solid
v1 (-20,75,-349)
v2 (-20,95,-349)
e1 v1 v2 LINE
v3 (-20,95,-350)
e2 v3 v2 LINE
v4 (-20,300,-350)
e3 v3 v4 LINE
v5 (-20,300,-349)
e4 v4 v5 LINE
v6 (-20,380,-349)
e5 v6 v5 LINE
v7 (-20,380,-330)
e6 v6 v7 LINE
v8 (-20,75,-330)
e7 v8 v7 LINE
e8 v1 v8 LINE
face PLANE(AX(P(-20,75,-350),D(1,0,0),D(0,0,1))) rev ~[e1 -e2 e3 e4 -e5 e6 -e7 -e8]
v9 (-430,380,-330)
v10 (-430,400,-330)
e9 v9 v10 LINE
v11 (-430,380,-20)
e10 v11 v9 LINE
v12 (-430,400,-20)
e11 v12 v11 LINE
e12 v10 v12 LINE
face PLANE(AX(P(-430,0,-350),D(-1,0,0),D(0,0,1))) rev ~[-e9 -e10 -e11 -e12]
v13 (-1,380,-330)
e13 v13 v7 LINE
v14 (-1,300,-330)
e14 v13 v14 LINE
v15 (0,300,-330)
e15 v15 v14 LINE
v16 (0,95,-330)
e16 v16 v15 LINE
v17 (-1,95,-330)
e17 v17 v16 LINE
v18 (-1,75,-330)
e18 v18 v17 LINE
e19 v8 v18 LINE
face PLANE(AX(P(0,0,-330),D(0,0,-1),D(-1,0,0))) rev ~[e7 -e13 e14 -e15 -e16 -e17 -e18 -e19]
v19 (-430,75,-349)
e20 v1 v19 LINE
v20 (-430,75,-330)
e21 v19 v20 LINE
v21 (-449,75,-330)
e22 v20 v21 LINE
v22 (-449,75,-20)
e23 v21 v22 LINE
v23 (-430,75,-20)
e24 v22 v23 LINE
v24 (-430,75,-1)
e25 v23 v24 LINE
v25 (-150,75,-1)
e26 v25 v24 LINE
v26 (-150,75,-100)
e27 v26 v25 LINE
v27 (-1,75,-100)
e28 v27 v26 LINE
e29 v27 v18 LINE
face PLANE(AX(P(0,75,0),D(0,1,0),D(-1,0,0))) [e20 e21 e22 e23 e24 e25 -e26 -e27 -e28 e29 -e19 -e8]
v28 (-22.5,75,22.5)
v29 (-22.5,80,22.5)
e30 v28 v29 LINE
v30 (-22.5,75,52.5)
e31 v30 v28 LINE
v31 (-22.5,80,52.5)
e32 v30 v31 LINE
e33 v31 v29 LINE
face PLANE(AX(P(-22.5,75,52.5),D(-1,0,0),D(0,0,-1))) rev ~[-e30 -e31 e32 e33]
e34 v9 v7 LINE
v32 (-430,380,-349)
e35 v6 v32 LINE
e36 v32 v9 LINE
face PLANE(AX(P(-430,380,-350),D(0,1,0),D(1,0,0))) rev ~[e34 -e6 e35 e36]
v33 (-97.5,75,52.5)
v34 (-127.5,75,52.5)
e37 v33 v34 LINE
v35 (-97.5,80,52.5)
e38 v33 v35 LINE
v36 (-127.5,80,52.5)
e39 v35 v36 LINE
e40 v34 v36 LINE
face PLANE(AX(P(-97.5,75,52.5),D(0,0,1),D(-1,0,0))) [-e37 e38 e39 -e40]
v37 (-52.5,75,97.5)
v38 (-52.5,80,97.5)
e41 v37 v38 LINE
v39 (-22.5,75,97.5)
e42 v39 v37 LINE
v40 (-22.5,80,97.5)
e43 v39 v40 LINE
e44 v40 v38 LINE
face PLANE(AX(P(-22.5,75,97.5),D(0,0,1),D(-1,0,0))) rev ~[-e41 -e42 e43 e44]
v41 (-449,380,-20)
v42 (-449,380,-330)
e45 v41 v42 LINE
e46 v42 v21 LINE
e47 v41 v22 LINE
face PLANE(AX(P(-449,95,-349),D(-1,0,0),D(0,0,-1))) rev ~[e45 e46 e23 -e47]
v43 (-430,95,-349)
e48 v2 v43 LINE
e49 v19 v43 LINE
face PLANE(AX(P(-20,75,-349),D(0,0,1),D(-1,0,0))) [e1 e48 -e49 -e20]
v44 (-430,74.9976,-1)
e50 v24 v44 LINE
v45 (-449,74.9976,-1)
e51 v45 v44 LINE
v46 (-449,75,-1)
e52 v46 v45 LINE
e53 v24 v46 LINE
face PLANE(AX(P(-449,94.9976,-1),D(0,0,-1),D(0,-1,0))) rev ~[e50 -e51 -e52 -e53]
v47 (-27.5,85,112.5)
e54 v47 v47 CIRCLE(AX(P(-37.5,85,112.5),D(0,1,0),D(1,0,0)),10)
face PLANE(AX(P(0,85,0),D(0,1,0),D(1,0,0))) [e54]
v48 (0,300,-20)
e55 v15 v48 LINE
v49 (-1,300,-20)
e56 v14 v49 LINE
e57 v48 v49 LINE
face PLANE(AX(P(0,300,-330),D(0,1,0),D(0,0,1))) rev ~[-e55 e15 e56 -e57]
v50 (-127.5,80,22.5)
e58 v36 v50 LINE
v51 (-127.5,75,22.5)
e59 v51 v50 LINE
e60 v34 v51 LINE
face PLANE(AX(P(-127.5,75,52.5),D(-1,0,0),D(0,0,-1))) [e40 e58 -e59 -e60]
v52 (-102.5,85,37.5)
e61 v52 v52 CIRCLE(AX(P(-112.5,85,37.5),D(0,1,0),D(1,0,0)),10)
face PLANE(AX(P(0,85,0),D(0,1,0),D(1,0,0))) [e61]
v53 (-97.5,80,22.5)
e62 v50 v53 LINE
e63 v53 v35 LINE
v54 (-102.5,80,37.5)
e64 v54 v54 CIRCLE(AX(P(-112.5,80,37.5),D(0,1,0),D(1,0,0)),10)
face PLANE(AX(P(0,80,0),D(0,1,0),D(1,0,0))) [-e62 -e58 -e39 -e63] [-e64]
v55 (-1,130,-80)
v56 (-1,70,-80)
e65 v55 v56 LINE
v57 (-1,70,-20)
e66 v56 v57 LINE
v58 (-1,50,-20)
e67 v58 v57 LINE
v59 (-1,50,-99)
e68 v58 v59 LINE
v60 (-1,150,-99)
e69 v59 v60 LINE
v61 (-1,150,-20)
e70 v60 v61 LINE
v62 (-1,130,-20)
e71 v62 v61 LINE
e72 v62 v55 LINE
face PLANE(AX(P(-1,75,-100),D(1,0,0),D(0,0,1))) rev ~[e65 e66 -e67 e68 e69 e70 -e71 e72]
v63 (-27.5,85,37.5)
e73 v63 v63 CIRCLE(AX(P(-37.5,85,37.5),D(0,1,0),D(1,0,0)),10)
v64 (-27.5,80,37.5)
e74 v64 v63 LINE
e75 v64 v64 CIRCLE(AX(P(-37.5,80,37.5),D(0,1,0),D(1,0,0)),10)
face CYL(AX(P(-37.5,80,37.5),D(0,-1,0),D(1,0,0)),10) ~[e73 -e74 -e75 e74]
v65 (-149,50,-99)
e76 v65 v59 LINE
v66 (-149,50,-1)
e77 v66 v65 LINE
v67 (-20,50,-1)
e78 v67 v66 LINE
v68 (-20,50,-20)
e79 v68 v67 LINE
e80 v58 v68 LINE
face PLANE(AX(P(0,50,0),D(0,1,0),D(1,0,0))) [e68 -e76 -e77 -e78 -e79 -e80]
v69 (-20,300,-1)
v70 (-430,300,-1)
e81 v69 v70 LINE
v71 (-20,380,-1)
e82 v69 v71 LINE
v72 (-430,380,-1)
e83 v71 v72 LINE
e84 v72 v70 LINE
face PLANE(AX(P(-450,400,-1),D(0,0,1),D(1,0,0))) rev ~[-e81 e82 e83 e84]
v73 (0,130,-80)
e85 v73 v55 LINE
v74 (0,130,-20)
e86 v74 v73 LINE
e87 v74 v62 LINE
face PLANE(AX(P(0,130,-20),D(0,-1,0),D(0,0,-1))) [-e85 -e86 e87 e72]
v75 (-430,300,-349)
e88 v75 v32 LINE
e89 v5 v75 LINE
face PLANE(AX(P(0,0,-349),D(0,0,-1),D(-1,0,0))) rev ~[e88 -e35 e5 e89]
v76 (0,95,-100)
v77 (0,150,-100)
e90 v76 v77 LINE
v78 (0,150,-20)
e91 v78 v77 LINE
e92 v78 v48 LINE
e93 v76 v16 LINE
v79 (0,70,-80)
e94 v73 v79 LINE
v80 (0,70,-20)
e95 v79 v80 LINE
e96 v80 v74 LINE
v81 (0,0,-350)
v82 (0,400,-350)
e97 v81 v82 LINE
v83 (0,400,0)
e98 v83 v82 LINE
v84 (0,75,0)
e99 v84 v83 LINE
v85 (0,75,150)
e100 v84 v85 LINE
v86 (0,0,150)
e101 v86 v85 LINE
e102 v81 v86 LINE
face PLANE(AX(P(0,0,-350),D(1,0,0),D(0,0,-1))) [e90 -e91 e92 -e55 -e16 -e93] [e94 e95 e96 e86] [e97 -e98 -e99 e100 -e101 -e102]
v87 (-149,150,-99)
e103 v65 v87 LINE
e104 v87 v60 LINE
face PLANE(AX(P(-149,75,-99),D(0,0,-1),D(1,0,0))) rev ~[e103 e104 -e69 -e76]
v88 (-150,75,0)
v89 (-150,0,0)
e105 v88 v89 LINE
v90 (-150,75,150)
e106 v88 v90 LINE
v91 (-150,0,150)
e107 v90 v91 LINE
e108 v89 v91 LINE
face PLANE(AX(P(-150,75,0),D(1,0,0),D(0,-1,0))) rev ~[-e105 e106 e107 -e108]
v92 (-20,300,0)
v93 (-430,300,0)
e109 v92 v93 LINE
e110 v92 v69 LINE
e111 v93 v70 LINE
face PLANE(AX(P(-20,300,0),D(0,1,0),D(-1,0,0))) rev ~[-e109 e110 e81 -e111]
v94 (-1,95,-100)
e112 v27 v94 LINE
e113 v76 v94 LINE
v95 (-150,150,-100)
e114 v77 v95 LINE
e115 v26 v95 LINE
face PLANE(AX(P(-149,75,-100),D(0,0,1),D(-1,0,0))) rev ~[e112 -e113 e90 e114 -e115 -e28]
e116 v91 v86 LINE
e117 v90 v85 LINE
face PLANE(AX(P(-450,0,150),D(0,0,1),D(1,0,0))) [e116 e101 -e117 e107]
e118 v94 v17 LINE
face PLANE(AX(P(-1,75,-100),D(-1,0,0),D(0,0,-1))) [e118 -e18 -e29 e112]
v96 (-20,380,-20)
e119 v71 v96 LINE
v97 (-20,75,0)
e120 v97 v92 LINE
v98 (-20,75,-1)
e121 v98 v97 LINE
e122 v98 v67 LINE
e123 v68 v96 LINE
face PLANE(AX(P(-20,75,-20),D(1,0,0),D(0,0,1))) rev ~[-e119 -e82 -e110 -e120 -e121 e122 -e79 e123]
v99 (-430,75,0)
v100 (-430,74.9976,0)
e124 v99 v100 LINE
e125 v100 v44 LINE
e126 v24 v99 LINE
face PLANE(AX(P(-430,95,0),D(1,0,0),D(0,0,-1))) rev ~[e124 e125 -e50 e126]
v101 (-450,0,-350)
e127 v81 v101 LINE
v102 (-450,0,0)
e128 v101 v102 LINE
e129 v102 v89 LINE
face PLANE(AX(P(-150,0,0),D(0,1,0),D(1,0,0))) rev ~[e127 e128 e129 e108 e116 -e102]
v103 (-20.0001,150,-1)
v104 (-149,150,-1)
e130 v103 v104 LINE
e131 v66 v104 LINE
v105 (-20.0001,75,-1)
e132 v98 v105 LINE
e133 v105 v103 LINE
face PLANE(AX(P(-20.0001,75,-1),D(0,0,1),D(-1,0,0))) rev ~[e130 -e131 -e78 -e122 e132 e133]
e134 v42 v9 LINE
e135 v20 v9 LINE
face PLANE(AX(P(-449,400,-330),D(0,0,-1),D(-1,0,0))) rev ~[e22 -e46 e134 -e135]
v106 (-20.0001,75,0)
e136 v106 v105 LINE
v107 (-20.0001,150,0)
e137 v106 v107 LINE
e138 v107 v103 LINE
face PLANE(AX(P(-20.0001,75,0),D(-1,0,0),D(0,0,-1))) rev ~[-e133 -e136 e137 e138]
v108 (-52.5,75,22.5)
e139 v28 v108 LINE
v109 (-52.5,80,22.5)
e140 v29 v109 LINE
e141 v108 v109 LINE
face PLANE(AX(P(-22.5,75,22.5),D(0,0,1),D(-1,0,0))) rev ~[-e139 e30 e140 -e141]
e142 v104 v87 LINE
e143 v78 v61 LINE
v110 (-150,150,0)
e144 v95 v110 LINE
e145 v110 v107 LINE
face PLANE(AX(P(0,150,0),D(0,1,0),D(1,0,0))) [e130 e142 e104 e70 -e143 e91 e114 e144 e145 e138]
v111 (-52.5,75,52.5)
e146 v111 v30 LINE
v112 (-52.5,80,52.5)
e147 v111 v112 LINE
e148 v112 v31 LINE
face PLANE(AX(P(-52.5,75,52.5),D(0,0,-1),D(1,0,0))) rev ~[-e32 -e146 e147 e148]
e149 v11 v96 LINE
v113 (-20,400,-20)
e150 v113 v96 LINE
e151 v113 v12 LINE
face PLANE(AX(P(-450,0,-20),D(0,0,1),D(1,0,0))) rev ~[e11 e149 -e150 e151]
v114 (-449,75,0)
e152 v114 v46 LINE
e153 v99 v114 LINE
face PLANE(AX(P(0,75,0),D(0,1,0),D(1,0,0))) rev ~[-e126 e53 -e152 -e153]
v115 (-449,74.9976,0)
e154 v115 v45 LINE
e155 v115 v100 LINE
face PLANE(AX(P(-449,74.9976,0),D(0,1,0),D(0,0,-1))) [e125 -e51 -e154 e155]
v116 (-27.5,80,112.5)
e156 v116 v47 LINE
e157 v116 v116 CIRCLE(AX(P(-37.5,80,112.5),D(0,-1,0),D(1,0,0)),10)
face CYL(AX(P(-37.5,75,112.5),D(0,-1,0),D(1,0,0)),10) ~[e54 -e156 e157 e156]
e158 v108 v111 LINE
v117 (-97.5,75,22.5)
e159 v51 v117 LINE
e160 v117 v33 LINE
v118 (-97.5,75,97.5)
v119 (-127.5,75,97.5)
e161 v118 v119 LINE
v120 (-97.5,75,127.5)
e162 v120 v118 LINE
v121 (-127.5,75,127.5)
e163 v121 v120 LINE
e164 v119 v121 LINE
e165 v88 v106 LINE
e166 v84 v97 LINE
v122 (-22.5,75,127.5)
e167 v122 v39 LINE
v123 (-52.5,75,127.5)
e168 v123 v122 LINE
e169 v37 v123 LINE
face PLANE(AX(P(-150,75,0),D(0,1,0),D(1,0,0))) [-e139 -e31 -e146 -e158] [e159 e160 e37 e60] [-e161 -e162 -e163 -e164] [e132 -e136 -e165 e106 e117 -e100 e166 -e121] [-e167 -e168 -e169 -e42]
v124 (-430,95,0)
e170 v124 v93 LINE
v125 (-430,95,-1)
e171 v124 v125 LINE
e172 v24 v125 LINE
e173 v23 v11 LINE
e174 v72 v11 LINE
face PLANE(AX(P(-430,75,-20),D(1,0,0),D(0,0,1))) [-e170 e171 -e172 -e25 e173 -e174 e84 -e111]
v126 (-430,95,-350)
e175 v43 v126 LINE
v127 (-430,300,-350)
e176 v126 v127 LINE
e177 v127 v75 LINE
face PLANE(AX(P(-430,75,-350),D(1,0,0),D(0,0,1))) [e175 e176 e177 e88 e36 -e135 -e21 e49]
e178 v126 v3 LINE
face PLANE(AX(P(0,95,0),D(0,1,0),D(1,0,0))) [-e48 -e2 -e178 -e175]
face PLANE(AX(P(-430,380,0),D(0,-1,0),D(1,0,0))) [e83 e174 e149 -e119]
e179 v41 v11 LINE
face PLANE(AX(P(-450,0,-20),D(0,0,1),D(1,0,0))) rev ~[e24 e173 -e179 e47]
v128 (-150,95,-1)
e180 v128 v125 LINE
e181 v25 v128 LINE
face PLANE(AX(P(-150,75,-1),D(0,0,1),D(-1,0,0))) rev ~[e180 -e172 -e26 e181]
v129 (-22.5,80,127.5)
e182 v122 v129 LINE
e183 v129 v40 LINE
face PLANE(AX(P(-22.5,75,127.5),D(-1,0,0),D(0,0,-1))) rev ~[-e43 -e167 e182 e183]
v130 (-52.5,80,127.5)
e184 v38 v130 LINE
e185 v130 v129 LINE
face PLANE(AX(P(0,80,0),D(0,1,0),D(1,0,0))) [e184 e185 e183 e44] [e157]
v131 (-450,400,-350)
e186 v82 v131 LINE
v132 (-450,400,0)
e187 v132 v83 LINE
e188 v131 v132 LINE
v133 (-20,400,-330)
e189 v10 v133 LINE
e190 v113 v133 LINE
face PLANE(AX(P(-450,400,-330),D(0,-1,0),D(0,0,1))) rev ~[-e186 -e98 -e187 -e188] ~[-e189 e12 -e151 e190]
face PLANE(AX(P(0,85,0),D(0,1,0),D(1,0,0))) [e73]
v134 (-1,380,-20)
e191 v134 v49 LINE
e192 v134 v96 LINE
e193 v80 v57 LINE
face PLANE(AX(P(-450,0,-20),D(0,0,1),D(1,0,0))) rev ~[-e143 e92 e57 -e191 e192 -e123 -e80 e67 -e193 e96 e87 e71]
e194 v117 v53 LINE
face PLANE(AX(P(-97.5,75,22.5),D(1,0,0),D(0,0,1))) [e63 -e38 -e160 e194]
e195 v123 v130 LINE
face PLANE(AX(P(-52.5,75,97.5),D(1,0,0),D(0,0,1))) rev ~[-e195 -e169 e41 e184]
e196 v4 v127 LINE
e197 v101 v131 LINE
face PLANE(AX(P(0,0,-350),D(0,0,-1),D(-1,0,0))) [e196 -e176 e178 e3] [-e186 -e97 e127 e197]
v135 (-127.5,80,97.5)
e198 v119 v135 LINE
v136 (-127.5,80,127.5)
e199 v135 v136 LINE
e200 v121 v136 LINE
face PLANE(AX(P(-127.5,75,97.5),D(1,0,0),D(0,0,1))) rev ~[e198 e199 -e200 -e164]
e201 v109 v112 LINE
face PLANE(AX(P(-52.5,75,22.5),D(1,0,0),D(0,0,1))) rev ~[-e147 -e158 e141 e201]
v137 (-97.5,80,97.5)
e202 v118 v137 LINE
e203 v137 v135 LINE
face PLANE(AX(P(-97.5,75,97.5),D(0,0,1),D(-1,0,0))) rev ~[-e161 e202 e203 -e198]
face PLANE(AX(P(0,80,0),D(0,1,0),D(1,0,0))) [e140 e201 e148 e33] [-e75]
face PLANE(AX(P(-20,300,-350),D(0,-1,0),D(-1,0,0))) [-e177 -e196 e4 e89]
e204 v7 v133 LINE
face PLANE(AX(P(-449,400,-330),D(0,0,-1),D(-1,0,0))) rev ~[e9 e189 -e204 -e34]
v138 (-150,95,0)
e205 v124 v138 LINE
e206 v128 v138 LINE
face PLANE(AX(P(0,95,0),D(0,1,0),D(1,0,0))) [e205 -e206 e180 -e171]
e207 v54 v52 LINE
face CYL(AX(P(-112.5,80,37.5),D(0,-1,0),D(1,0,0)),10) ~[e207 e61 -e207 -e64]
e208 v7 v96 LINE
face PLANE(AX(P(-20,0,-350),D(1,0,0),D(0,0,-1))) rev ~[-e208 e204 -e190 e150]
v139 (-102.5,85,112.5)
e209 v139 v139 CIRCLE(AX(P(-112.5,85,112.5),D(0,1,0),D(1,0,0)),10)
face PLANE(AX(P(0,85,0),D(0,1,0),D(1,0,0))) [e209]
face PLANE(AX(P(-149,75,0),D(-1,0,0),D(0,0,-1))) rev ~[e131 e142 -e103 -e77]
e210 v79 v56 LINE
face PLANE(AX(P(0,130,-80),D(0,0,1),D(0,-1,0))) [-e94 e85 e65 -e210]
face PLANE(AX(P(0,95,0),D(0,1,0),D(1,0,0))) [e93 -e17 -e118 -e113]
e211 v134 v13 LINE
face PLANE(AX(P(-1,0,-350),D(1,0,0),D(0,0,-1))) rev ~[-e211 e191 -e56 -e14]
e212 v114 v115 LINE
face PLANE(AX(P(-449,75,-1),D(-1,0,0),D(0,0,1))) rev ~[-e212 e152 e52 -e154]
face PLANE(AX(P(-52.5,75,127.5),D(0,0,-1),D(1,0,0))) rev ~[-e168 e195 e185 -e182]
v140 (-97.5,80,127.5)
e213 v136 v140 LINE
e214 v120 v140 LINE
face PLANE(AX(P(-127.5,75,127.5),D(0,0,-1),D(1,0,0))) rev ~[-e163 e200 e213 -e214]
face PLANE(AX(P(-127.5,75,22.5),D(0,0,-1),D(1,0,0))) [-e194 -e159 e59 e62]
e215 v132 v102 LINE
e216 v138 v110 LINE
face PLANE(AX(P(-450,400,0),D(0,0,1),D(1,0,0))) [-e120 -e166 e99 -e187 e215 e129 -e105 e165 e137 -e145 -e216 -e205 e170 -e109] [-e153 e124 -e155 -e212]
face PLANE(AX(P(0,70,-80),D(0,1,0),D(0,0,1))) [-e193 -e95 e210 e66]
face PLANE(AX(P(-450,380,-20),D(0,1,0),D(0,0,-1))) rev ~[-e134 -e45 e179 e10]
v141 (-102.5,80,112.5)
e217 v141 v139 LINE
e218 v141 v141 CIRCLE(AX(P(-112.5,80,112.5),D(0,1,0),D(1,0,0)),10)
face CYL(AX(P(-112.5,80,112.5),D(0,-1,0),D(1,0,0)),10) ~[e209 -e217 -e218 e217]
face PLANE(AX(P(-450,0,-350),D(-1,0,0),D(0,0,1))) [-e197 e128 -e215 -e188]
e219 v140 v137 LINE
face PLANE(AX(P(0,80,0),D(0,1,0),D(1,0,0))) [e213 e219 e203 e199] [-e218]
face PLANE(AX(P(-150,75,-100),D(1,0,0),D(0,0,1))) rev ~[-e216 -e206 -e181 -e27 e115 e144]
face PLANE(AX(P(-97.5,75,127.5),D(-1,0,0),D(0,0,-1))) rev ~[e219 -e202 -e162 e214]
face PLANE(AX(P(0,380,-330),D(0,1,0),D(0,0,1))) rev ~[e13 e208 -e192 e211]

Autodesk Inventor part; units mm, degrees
ref_plane "YZ Plane" through (0, 0, 0) normal (1, 0, 0) x (0, 1, 0)
ref_plane "XZ Plane" through (0, 0, 0) normal (0, 1, 0) x (-1, 0, 0)
ref_plane "XY Plane" through (0, 0, 0) normal (0, 0, 1) x (1, 0, 0)
sketch "Sketch1" plane through (0, 0, 0) normal (0, 1, 0) x (-1, 0, 0)
  line L0 (0, 0) -> (0, -350)
  line L1 (0, -350) -> (450, -350)
  line L2 (450, -350) -> (450, 0)
  line L3 (450, 0) -> (0, 0)
  dimension "d0" = 350
  dimension "d1" = 450
extrude "Extrusion1" add sketch "Sketch1" along normal blind 75
sketch "Sketch2" plane through (0, 75, 0) normal (0, 1, 0) x (1, 0, 0)
  line L0 (-20, 350) -> (-20, 330)
  line L1 (-20, 330) -> (0, 330)
  line L2 (0, 350) -> (-450, 350) projected
  line L3 (0, 330) -> (0, 350)
  line L4 (0, 350) -> (-20, 350)
  point P0 (0, 0)
  dimension "d4" = 20
  dimension "d5" = 20
extrude "Extrusion2" add sketch "Sketch2" along normal blind 325
sketch "Sketch3" plane through (0, 75, 0) normal (0, 1, 0) x (1, 0, 0)
  point P0 (0, 0)
sketch "Sketch4" plane through (0, 75, 0) normal (0, 1, 0) x (1, 0, 0)
  line L0 (-20, 350) -> (-20, 330) projected
  line L1 (-20, 350) -> (-20, 349)
  line L2 (-20, 349) -> (-450, 349)
  line L3 (-450, 349) -> (-450, 350)
  line L4 (-450, 350) -> (-20, 350)
  line L5 (-20, 350) -> (-20, 349)
  line L6 (0, 0) -> (0, 350) projected
  line L7 (-20, 349) -> (-20, 350)
  line L8 (-20, 350) -> (-20, 349)
  dimension "d9" = 430
  dimension "d10" = 1
  dimension "d11" = 430
  dimension "d12" = 1
extrude "Extrusion3" add sketch "Sketch4" along normal blind 20
sketch "Sketch5" plane through (0, 75, 0) normal (0, 1, 0) x (1, 0, 0)
  line L0 (-450, 350) -> (-450, 0) projected
  line L1 (-450, 350) -> (-449, 350)
  line L2 (-20, 350) -> (-450, 350) projected
  line L3 (-449, 350) -> (-449, 0)
  line L4 (-450, 0) -> (0, 0) projected
  line L5 (-449, 0) -> (-450, 0)
  line L6 (-450, 0) -> (-450, 350)
  line L7 (-20, 349) -> (-450, 349) projected
  line L8 (-449, 349) -> (-449, 350)
  line L9 (-450, 350) -> (-449, 350)
  dimension "d15" = 1
extrude "Extrusion4" add sketch "Sketch5" along normal blind 325 contours L7 L3 L4 L0
sketch "Sketch6" plane through (0, 95, 0) normal (0, 1, 0) x (1, 0, 0)
  line L0 (-449, 349) -> (-449, 0) projected
  line L1 (-449, 349) -> (-449, 350)
  line L2 (-20, 350) -> (-450, 350) projected
  line L3 (-450, 350) -> (-450, 0) projected
  line L4 (-449, 350) -> (-450, 350)
  line L5 (-450, 350) -> (-450, 349)
  line L6 (-450, 349) -> (-449, 349) projected
  line L7 (-450, 349) -> (-449, 349)
  line L8 (-449, 349) -> (-449, 350)
  point P0 (0, 0)
extrude "Extrusion5" add sketch "Sketch6" along normal blind 305
sketch "Sketch7" plane through (0, 75, 0) normal (0, 1, 0) x (1, 0, 0)
  line L0 (0, 0) -> (0, 350) projected
  line L1 (0, 0) -> (0, 20)
  line L2 (0, 20) -> (-20, 20)
  line L3 (-20, 20) -> (-20, 0)
  line L4 (-20, 0) -> (0, 0)
  dimension "d20" = 20
  dimension "d21" = 20
extrude "Extrusion6" add sketch "Sketch7" along normal blind 325
sketch "Sketch8" plane through (0, 75, 0) normal (0, 1, 0) x (1, 0, 0)
  line L0 (0, 20) -> (-20, 20) projected
  line L1 (0, 20) -> (0, 100)
  line L2 (0, 20) -> (0, 330) projected
  line L3 (0, 100) -> (-1, 100)
  line L4 (-1, 100) -> (-1, 20)
  line L5 (-1, 20) -> (0, 20)
  point P0 (0, 0)
  dimension "d24" = 80
  dimension "d25" = 1
  dimension "d26" = 80
extrude "Extrusion7" add sketch "Sketch8" along normal blind 75
sketch "Sketch9" plane through (0, 75, 0) normal (0, 1, 0) x (1, 0, 0)
  line L0 (-1, 100) -> (0, 100) projected
  line L1 (-1, 100) -> (-149, 100)
  line L2 (-149, 100) -> (-149, 99)
  line L3 (-149, 99) -> (-1, 99)
  line L4 (-1, 100) -> (-1, 20) projected
  line L5 (-1, 99) -> (-1, 100)
  point P0 (0, 0)
  dimension "d29" = 148
  dimension "d32" = 1
  dimension "d33" = 148
extrude "Extrusion8" add sketch "Sketch9" along normal blind 75
sketch "Sketch10" plane through (0, 75, 0) normal (0, 1, 0) x (1, 0, 0)
  line L0 (-149, 99) -> (-149, 100) projected
  line L1 (-149, 100) -> (-150, 100)
  line L2 (-150, 100) -> (-150, 0)
  line L3 (-150, 0) -> (-149, 0)
  line L4 (-449, 0) -> (-20, 0) projected
  line L5 (-149, 0) -> (-149, 100)
  point P0 (0, 0)
  dimension "d36" = 1
  dimension "d37" = 100
  dimension "d38" = 1
  dimension "d39" = 100
extrude "Extrusion9" add sketch "Sketch10" along normal blind 75
sketch "Sketch11" plane through (0, 75, 0) normal (0, 1, 0) x (1, 0, 0)
  line L0 (-450, 0) -> (0, 0) projected
  line L1 (-149.0001, 0) -> (-20.0001, 0)
  line L2 (-20.0001, 0) -> (-20.0001, 1)
  line L3 (-20.0001, 1) -> (-149.0001, 1)
  line L4 (-149.0001, 1) -> (-149.0001, 0)
  dimension "d42" = 129
  dimension "d43" = 1
  dimension "d44" = 129
extrude "Extrusion10" add sketch "Sketch11" along normal blind 75
sketch "Sketch12" plane through (0, 75, 0) normal (0, 1, 0) x (1, 0, 0)
  point P0 (0, 0)
sketch "Sketch13" plane through (0, 75, 0) normal (0, 1, 0) x (1, 0, 0)
  line L0 (-149, 1) -> (-149, 99) projected
  line L1 (-1, 20) -> (-1, 99) projected
  line L2 (-149, 99) -> (-1, 99)
  line L3 (-1, 99) -> (-1, 20)
  line L4 (0, 20) -> (-20, 20) projected
  line L5 (-1, 20) -> (-20, 20)
  line L6 (-20, 20) -> (-20, 1)
  line L7 (-20, 0) -> (0, 0) projected
  line L8 (-20, 1) -> (-149, 1)
  line L9 (-149, 1) -> (-149, 99)
extrude "Extrusion11" cut sketch "Sketch13" against normal blind 25
sketch "Sketch14" plane through (0, 75, 0) normal (0, 1, 0) x (1, 0, 0)
  line L0 (0, 100) -> (0, 330) projected
  line L1 (0, 330) -> (0, 100)
  line L2 (0, 100) -> (-1, 100)
  line L3 (-150, 100) -> (0, 100) projected
  line L4 (0, 100) -> (1, 100) construction
  line L5 (-1, 100) -> (-1, 330)
  line L6 (-1, 330) -> (0, 330)
  point P0 (0, 0)
  dimension "d49" = 1
  dimension "d50" = 180
  dimension "d51" = 230
  dimension "d52" = 90
extrude "Extrusion12" add sketch "Sketch14" along normal blind 20
sketch "Sketch15" plane through (0, 75, 0) normal (0, 1, 0) x (1, 0, 0)
  line L0 (-449, 0) -> (-449, 350) projected
  line L1 (-150, 100) -> (-150, 0) projected
  line L2 (-449, 0) -> (-150, 0)
  line L3 (-150, 0) -> (-150, 1)
  line L4 (-150, 1) -> (-449, 1)
  line L5 (-449, 1) -> (-449, 0)
  point P0 (0, 0)
  dimension "d55" = 1
  dimension "d56" = 90
extrude "Extrusion13" add sketch "Sketch15" along normal blind 20
sketch "Sketch16" plane through (0, 400, 0) normal (0, 1, 0) x (1, 0, 0)
  line L0 (-450, 350) -> (-450, 0) projected
  line L1 (-449, 0) -> (-449, 350) projected
  line L2 (-450, 350) -> (-449, 350)
  line L3 (-449, 350) -> (-449, 330)
  line L4 (-449, 330) -> (-450, 330)
  line L5 (-450, 330) -> (-450, 350)
  point P0 (0, 0)
  dimension "d59" = 20
  dimension "d60" = 20
extrude "Extrusion14" cut sketch "Sketch16" against normal blind 325
sketch "Sketch17" plane through (-449, 75, -349) normal (-1, 0, 0) x (0, 0, 1)
  line L0 (-1, 0) -> (-1, 20) projected
  line L1 (-1, 20) -> (-1, 0)
  line L2 (-1, 0) -> (0, 0)
  line L3 (0, 0) -> (0, 20)
  line L4 (0, 20) -> (-1, 20)
  point P0 (349, -75)
  dimension "d63" = 1
extrude "Extrusion15" cut sketch "Sketch17" against normal blind 19
sketch "Sketch18" plane through (0, 75, 0) normal (0, 1, 0) x (1, 0, 0)
  line L0 (-450, 350) -> (-430, 350) projected
  line L1 (-450, 350) -> (-430, 350)
  line L2 (-430, 350) -> (-430, 330)
  line L3 (-430, 330) -> (-450, 330)
  line L4 (-450, 330) -> (-450, 350)
  point P0 (0, 0)
  dimension "d66" = 20
extrude "Extrusion16" add sketch "Sketch18" along normal blind 325
sketch "Sketch19" plane through (0, 400, 0) normal (0, 1, 0) x (1, 0, 0)
  line L0 (-449, 0) -> (-449, 1) projected
  line L1 (-450, 0) -> (0, 0) projected
  line L2 (-449, 0) -> (-450, 0)
  line L3 (-450, 0) -> (-450, 20)
  line L4 (-450, 20) -> (-449, 20)
  line L5 (-449, 20) -> (-449, 0)
  dimension "d69" = 20
extrude "Extrusion17" cut sketch "Sketch19" against normal blind 325
sketch "Sketch20" plane through (-449, 75, -1) normal (-1, 0, 0) x (0, 0, 1)
  line L0 (0, 19.9976) -> (1, 19.9976)
  line L1 (1, 19.9976) -> (1, -0.0024)
  line L2 (1, -0.0024) -> (0, -0.0024)
  line L3 (0, 19.9976) -> (0, -0.0024)
  point P0 (1, -75)
  dimension "d72" = 20
extrude "Extrusion18" cut sketch "Sketch20" against normal blind 19
sketch "Sketch21" plane through (0, 95, 0) normal (0, 1, 0) x (1, 0, 0)
  line L0 (-150, 1) -> (-449, 1) projected
  line L1 (-449, 1) -> (-449, 0)
  line L2 (-449, 0) -> (-430, 0)
  line L3 (-430, 0) -> (-430, 1)
  line L4 (-430, 1) -> (-449, 1)
  point P0 (0, 0)
  dimension "d75" = 1
  dimension "d76" = 19
  dimension "d77" = 1
extrude "Extrusion19" cut sketch "Sketch21" against normal blind 0.1
sketch "Sketch22" plane through (0, 75, 0) normal (0, 1, 0) x (1, 0, 0)
  line L0 (-450, 350) -> (-450, 0) projected
  line L1 (-450, 0) -> (-450, 20)
  line L2 (-450, 20) -> (-430, 20)
  line L3 (-430, 20) -> (-430, 0)
  line L4 (-430, 0) -> (-450, 0)
  point P0 (0, 0)
  dimension "d80" = 20
  dimension "d81" = 20
extrude "Extrusion20" add sketch "Sketch22" along normal blind 325
sketch "Sketch23" plane through (-450, 0, 0) normal (0, 0, 1) x (1, 0, 0)
  line L0 (20, 75) -> (300, 75) projected
  line L1 (300, 75) -> (450, 75)
  line L2 (450, 0) -> (450, 400) projected
  line L3 (450, 75) -> (450, 0)
  line L4 (449, 150) -> (449, 50) projected
  line L5 (0, 0) -> (450, 0) projected
  line L6 (450, 0) -> (300, 0)
  line L7 (300, 75) -> (300, 0)
extrude "Extrusion21" add sketch "Sketch23" along normal blind 150
sketch "Sketch24" plane through (0, 75, 0) normal (0, 1, 0) x (1, 0, 0)
  line L0 (0, 0) -> (0, -150) projected
  line L1 (0, -75) -> (-150, -75)
  line L2 (-150, 0) -> (-150, -150) projected
  line L3 (0, -150) -> (-150, -150) projected
  line L4 (-75, -150) -> (-75, 0)
  line L5 (-127.5, -22.5) -> (-97.5, -22.5)
  line L6 (-97.5, -22.5) -> (-97.5, -52.5)
  line L7 (-97.5, -52.5) -> (-127.5, -52.5)
  line L8 (-127.5, -52.5) -> (-127.5, -22.5)
  line L9 (-127.5, -22.5) -> (-97.5, -52.5) construction
  line L10 (-97.5, -22.5) -> (-127.5, -52.5) construction
  line L11 (-52.5, -52.5) -> (-22.5, -52.5)
  line L12 (-22.5, -52.5) -> (-22.5, -22.5)
  line L13 (-22.5, -22.5) -> (-52.5, -22.5)
  line L14 (-52.5, -22.5) -> (-52.5, -52.5)
  line L15 (-52.5, -52.5) -> (-22.5, -22.5) construction
  line L16 (-22.5, -52.5) -> (-52.5, -22.5) construction
  line L17 (-52.5, -127.5) -> (-22.5, -127.5)
  line L18 (-22.5, -127.5) -> (-22.5, -97.5)
  line L19 (-22.5, -97.5) -> (-52.5, -97.5)
  line L20 (-52.5, -97.5) -> (-52.5, -127.5)
  line L21 (-52.5, -127.5) -> (-22.5, -97.5) construction
  line L22 (-22.5, -127.5) -> (-52.5, -97.5) construction
  line L23 (-127.5, -127.5) -> (-97.5, -127.5)
  line L24 (-97.5, -127.5) -> (-97.5, -97.5)
  line L25 (-97.5, -97.5) -> (-127.5, -97.5)
  line L26 (-127.5, -97.5) -> (-127.5, -127.5)
  line L27 (-127.5, -127.5) -> (-97.5, -97.5) construction
  line L28 (-97.5, -127.5) -> (-127.5, -97.5) construction
  dimension "d86" = 30
  dimension "d87" = 30
  dimension "d88" = 30
extrude "Extrusion22" add sketch "Sketch24" along normal blind 5 contours L5 L6 L7 L8 | L14 L13 L12 L11 | L20 L19 L18 L17 | L26 L25 L24 L23
sketch "Sketch25" plane through (0, 75, 0) normal (0, 1, 0) x (1, 0, 0)
  circle A0 centre (-37.5, -112.5) radius 10
  point P0 (0, 0)
  dimension "d91" = 20
extrude "Extrusion23" add sketch "Sketch25" along normal blind 10
sketch "Sketch26" plane through (0, 80, 0) normal (0, 1, 0) x (1, 0, 0)
  circle A0 centre (-112.5, -112.5) radius 10
  point P0 (0, 0)
  dimension "d94" = 20
extrude "Extrusion24" add sketch "Sketch26" along normal blind 5
sketch "Sketch27" plane through (0, 80, 0) normal (0, 1, 0) x (1, 0, 0)
  circle A0 centre (-112.5, -37.5) radius 10
  point P0 (0, 0)
  dimension "d97" = 20
extrude "Extrusion25" add sketch "Sketch27" along normal blind 5
sketch "Sketch28" plane through (0, 80, 0) normal (0, 1, 0) x (1, 0, 0)
  circle A0 centre (-37.5, -37.5) radius 10
  point P0 (0, 0)
  dimension "d100" = 20
extrude "Extrusion26" add sketch "Sketch28" along normal blind 5
sketch "Sketch29" plane through (0, 0, -350) normal (0, 0, -1) x (-1, 0, 0)
  line L0 (20, 75) -> (20, 400) projected
  line L1 (430, 95) -> (430, 400) projected
  line L2 (20, 400) -> (430, 400)
  line L3 (430, 400) -> (430, 380)
  line L4 (430, 380) -> (20, 380)
  line L5 (20, 380) -> (20, 400)
  point P0 (0, 0)
  dimension "d103" = 20
extrude "Extrusion27" add sketch "Sketch29" against normal blind 20
sketch "Sketch30" plane through (-450, 0, 0) normal (0, 0, 1) x (1, 0, 0)
  line L0 (20, 380) -> (430, 380) projected
  line L1 (430, 75) -> (430, 380) projected
  line L2 (20, 380) -> (430, 380)
  line L3 (430, 380) -> (430, 400)
  line L4 (430, 400) -> (20, 400)
  line L5 (20, 400) -> (20, 380)
  point P0 (450, 0)
  dimension "d106" = 20
  dimension "d107" = 20
extrude "Extrusion28" add sketch "Sketch30" against normal blind 20
sketch "Sketch31" plane through (0, 0, -350) normal (1, 0, 0) x (0, 0, -1)
  line L0 (-330, 400) -> (-330, 75) projected
  line L1 (-20, 95) -> (-20, 400) projected
  line L2 (-330, 400) -> (-20, 400)
  line L3 (0, 380) -> (-20, 380) projected
  line L4 (-20, 400) -> (-20, 380)
  line L5 (-20, 380) -> (-330, 380)
  line L6 (-350, 0) -> (-350, 400) projected
  line L7 (-330, 380) -> (-330, 400)
  dimension "d110" = 20
extrude "Extrusion29" add sketch "Sketch31" against normal blind 20
sketch "Sketch32" plane through (0, 400, 0) normal (0, 1, 0) x (1, 0, 0)
  line L0 (-449, 20) -> (-430, 20) projected
  line L1 (-449, 20) -> (-450, 20)
  line L2 (-450, 350) -> (-450, 0) projected
  line L3 (-449, 20) -> (-449, 330) projected
  line L4 (-449, 330) -> (-450, 330)
  point P0 (0, 0)
extrude "Extrusion30" cut sketch "Sketch32" against normal blind 20
sketch "Sketch33" plane through (-450, 0, -350) normal (-1, 0, 0) x (0, 0, 1)
  point P0 (350, 0)
sketch "Sketch34" plane through (-450, 0, -350) normal (-1, 0, 0) x (0, 0, 1)
  line L0 (330, 380) -> (20, 380) projected
  line L1 (20, 380) -> (20, 400)
  line L2 (20, 400) -> (330, 400)
  line L3 (330, 400) -> (330, 380)
  line L4 (20, 380) -> (330, 380)
  point P0 (350, 0)
  dimension "d115" = 20
extrude "Extrusion31" add sketch "Sketch34" against normal blind 20
sketch "Sketch35" plane through (0, 0, -350) normal (0, 0, -1) x (-1, 0, 0)
  line L0 (20, 380) -> (430, 380) projected
  line L1 (20, 380) -> (20, 300)
  line L2 (20, 75) -> (20, 380) projected
  line L3 (20, 300) -> (430, 300)
  line L4 (430, 75) -> (430, 380) projected
  point P0 (0, 0)
  dimension "d118" = 80
extrude "Extrusion32" add sketch "Sketch35" against normal blind 1
sketch "Sketch36" plane through (0, 0, -350) normal (1, 0, 0) x (0, 0, -1)
  line L0 (-330, 380) -> (-20, 380) projected
  line L1 (-20, 380) -> (-20, 300)
  line L2 (-20, 75) -> (-20, 380) projected
  line L3 (-20, 300) -> (-330, 300)
  line L4 (-330, 380) -> (-330, 75) projected
  point P0 (-350, 0)
  dimension "d121" = 80
extrude "Extrusion33" add sketch "Sketch36" against normal blind 1
sketch "Sketch37" plane through (-450, 400, 0) normal (0, 0, 1) x (1, 0, 0)
  line L0 (20, -20) -> (1, -20) projected
  line L1 (430, -100) -> (20, -100) projected
  line L2 (20, -20) -> (20, -100)
  line L3 (20, -100) -> (430, -100)
  line L4 (430, -100) -> (430, -20)
  line L5 (430, -20) -> (20, -20)
  point P0 (450, -400)
  dimension "d124" = 80
  dimension "d125" = 410
  dimension "d126" = 80
  dimension "d127" = 410
extrude "Extrusion34" add sketch "Sketch37" against normal blind 1
sketch "Sketch38" plane through (0, 0, -350) normal (1, 0, 0) x (0, 0, -1)
  line L0 (-330, 130) -> (-270, 130)
  line L1 (-270, 130) -> (-270, 70)
  line L2 (-270, 70) -> (-330, 70)
  line L3 (-330, 70) -> (-330, 130)
  point P0 (-350, 0)
  point P1 (-330, 150)
  dimension "d131" = 60
  dimension "d132" = 60
  dimension "d133" = 60
extrude "Extrusion35" cut sketch "Sketch38" against normal blind 1
properties part number "Project frame"
